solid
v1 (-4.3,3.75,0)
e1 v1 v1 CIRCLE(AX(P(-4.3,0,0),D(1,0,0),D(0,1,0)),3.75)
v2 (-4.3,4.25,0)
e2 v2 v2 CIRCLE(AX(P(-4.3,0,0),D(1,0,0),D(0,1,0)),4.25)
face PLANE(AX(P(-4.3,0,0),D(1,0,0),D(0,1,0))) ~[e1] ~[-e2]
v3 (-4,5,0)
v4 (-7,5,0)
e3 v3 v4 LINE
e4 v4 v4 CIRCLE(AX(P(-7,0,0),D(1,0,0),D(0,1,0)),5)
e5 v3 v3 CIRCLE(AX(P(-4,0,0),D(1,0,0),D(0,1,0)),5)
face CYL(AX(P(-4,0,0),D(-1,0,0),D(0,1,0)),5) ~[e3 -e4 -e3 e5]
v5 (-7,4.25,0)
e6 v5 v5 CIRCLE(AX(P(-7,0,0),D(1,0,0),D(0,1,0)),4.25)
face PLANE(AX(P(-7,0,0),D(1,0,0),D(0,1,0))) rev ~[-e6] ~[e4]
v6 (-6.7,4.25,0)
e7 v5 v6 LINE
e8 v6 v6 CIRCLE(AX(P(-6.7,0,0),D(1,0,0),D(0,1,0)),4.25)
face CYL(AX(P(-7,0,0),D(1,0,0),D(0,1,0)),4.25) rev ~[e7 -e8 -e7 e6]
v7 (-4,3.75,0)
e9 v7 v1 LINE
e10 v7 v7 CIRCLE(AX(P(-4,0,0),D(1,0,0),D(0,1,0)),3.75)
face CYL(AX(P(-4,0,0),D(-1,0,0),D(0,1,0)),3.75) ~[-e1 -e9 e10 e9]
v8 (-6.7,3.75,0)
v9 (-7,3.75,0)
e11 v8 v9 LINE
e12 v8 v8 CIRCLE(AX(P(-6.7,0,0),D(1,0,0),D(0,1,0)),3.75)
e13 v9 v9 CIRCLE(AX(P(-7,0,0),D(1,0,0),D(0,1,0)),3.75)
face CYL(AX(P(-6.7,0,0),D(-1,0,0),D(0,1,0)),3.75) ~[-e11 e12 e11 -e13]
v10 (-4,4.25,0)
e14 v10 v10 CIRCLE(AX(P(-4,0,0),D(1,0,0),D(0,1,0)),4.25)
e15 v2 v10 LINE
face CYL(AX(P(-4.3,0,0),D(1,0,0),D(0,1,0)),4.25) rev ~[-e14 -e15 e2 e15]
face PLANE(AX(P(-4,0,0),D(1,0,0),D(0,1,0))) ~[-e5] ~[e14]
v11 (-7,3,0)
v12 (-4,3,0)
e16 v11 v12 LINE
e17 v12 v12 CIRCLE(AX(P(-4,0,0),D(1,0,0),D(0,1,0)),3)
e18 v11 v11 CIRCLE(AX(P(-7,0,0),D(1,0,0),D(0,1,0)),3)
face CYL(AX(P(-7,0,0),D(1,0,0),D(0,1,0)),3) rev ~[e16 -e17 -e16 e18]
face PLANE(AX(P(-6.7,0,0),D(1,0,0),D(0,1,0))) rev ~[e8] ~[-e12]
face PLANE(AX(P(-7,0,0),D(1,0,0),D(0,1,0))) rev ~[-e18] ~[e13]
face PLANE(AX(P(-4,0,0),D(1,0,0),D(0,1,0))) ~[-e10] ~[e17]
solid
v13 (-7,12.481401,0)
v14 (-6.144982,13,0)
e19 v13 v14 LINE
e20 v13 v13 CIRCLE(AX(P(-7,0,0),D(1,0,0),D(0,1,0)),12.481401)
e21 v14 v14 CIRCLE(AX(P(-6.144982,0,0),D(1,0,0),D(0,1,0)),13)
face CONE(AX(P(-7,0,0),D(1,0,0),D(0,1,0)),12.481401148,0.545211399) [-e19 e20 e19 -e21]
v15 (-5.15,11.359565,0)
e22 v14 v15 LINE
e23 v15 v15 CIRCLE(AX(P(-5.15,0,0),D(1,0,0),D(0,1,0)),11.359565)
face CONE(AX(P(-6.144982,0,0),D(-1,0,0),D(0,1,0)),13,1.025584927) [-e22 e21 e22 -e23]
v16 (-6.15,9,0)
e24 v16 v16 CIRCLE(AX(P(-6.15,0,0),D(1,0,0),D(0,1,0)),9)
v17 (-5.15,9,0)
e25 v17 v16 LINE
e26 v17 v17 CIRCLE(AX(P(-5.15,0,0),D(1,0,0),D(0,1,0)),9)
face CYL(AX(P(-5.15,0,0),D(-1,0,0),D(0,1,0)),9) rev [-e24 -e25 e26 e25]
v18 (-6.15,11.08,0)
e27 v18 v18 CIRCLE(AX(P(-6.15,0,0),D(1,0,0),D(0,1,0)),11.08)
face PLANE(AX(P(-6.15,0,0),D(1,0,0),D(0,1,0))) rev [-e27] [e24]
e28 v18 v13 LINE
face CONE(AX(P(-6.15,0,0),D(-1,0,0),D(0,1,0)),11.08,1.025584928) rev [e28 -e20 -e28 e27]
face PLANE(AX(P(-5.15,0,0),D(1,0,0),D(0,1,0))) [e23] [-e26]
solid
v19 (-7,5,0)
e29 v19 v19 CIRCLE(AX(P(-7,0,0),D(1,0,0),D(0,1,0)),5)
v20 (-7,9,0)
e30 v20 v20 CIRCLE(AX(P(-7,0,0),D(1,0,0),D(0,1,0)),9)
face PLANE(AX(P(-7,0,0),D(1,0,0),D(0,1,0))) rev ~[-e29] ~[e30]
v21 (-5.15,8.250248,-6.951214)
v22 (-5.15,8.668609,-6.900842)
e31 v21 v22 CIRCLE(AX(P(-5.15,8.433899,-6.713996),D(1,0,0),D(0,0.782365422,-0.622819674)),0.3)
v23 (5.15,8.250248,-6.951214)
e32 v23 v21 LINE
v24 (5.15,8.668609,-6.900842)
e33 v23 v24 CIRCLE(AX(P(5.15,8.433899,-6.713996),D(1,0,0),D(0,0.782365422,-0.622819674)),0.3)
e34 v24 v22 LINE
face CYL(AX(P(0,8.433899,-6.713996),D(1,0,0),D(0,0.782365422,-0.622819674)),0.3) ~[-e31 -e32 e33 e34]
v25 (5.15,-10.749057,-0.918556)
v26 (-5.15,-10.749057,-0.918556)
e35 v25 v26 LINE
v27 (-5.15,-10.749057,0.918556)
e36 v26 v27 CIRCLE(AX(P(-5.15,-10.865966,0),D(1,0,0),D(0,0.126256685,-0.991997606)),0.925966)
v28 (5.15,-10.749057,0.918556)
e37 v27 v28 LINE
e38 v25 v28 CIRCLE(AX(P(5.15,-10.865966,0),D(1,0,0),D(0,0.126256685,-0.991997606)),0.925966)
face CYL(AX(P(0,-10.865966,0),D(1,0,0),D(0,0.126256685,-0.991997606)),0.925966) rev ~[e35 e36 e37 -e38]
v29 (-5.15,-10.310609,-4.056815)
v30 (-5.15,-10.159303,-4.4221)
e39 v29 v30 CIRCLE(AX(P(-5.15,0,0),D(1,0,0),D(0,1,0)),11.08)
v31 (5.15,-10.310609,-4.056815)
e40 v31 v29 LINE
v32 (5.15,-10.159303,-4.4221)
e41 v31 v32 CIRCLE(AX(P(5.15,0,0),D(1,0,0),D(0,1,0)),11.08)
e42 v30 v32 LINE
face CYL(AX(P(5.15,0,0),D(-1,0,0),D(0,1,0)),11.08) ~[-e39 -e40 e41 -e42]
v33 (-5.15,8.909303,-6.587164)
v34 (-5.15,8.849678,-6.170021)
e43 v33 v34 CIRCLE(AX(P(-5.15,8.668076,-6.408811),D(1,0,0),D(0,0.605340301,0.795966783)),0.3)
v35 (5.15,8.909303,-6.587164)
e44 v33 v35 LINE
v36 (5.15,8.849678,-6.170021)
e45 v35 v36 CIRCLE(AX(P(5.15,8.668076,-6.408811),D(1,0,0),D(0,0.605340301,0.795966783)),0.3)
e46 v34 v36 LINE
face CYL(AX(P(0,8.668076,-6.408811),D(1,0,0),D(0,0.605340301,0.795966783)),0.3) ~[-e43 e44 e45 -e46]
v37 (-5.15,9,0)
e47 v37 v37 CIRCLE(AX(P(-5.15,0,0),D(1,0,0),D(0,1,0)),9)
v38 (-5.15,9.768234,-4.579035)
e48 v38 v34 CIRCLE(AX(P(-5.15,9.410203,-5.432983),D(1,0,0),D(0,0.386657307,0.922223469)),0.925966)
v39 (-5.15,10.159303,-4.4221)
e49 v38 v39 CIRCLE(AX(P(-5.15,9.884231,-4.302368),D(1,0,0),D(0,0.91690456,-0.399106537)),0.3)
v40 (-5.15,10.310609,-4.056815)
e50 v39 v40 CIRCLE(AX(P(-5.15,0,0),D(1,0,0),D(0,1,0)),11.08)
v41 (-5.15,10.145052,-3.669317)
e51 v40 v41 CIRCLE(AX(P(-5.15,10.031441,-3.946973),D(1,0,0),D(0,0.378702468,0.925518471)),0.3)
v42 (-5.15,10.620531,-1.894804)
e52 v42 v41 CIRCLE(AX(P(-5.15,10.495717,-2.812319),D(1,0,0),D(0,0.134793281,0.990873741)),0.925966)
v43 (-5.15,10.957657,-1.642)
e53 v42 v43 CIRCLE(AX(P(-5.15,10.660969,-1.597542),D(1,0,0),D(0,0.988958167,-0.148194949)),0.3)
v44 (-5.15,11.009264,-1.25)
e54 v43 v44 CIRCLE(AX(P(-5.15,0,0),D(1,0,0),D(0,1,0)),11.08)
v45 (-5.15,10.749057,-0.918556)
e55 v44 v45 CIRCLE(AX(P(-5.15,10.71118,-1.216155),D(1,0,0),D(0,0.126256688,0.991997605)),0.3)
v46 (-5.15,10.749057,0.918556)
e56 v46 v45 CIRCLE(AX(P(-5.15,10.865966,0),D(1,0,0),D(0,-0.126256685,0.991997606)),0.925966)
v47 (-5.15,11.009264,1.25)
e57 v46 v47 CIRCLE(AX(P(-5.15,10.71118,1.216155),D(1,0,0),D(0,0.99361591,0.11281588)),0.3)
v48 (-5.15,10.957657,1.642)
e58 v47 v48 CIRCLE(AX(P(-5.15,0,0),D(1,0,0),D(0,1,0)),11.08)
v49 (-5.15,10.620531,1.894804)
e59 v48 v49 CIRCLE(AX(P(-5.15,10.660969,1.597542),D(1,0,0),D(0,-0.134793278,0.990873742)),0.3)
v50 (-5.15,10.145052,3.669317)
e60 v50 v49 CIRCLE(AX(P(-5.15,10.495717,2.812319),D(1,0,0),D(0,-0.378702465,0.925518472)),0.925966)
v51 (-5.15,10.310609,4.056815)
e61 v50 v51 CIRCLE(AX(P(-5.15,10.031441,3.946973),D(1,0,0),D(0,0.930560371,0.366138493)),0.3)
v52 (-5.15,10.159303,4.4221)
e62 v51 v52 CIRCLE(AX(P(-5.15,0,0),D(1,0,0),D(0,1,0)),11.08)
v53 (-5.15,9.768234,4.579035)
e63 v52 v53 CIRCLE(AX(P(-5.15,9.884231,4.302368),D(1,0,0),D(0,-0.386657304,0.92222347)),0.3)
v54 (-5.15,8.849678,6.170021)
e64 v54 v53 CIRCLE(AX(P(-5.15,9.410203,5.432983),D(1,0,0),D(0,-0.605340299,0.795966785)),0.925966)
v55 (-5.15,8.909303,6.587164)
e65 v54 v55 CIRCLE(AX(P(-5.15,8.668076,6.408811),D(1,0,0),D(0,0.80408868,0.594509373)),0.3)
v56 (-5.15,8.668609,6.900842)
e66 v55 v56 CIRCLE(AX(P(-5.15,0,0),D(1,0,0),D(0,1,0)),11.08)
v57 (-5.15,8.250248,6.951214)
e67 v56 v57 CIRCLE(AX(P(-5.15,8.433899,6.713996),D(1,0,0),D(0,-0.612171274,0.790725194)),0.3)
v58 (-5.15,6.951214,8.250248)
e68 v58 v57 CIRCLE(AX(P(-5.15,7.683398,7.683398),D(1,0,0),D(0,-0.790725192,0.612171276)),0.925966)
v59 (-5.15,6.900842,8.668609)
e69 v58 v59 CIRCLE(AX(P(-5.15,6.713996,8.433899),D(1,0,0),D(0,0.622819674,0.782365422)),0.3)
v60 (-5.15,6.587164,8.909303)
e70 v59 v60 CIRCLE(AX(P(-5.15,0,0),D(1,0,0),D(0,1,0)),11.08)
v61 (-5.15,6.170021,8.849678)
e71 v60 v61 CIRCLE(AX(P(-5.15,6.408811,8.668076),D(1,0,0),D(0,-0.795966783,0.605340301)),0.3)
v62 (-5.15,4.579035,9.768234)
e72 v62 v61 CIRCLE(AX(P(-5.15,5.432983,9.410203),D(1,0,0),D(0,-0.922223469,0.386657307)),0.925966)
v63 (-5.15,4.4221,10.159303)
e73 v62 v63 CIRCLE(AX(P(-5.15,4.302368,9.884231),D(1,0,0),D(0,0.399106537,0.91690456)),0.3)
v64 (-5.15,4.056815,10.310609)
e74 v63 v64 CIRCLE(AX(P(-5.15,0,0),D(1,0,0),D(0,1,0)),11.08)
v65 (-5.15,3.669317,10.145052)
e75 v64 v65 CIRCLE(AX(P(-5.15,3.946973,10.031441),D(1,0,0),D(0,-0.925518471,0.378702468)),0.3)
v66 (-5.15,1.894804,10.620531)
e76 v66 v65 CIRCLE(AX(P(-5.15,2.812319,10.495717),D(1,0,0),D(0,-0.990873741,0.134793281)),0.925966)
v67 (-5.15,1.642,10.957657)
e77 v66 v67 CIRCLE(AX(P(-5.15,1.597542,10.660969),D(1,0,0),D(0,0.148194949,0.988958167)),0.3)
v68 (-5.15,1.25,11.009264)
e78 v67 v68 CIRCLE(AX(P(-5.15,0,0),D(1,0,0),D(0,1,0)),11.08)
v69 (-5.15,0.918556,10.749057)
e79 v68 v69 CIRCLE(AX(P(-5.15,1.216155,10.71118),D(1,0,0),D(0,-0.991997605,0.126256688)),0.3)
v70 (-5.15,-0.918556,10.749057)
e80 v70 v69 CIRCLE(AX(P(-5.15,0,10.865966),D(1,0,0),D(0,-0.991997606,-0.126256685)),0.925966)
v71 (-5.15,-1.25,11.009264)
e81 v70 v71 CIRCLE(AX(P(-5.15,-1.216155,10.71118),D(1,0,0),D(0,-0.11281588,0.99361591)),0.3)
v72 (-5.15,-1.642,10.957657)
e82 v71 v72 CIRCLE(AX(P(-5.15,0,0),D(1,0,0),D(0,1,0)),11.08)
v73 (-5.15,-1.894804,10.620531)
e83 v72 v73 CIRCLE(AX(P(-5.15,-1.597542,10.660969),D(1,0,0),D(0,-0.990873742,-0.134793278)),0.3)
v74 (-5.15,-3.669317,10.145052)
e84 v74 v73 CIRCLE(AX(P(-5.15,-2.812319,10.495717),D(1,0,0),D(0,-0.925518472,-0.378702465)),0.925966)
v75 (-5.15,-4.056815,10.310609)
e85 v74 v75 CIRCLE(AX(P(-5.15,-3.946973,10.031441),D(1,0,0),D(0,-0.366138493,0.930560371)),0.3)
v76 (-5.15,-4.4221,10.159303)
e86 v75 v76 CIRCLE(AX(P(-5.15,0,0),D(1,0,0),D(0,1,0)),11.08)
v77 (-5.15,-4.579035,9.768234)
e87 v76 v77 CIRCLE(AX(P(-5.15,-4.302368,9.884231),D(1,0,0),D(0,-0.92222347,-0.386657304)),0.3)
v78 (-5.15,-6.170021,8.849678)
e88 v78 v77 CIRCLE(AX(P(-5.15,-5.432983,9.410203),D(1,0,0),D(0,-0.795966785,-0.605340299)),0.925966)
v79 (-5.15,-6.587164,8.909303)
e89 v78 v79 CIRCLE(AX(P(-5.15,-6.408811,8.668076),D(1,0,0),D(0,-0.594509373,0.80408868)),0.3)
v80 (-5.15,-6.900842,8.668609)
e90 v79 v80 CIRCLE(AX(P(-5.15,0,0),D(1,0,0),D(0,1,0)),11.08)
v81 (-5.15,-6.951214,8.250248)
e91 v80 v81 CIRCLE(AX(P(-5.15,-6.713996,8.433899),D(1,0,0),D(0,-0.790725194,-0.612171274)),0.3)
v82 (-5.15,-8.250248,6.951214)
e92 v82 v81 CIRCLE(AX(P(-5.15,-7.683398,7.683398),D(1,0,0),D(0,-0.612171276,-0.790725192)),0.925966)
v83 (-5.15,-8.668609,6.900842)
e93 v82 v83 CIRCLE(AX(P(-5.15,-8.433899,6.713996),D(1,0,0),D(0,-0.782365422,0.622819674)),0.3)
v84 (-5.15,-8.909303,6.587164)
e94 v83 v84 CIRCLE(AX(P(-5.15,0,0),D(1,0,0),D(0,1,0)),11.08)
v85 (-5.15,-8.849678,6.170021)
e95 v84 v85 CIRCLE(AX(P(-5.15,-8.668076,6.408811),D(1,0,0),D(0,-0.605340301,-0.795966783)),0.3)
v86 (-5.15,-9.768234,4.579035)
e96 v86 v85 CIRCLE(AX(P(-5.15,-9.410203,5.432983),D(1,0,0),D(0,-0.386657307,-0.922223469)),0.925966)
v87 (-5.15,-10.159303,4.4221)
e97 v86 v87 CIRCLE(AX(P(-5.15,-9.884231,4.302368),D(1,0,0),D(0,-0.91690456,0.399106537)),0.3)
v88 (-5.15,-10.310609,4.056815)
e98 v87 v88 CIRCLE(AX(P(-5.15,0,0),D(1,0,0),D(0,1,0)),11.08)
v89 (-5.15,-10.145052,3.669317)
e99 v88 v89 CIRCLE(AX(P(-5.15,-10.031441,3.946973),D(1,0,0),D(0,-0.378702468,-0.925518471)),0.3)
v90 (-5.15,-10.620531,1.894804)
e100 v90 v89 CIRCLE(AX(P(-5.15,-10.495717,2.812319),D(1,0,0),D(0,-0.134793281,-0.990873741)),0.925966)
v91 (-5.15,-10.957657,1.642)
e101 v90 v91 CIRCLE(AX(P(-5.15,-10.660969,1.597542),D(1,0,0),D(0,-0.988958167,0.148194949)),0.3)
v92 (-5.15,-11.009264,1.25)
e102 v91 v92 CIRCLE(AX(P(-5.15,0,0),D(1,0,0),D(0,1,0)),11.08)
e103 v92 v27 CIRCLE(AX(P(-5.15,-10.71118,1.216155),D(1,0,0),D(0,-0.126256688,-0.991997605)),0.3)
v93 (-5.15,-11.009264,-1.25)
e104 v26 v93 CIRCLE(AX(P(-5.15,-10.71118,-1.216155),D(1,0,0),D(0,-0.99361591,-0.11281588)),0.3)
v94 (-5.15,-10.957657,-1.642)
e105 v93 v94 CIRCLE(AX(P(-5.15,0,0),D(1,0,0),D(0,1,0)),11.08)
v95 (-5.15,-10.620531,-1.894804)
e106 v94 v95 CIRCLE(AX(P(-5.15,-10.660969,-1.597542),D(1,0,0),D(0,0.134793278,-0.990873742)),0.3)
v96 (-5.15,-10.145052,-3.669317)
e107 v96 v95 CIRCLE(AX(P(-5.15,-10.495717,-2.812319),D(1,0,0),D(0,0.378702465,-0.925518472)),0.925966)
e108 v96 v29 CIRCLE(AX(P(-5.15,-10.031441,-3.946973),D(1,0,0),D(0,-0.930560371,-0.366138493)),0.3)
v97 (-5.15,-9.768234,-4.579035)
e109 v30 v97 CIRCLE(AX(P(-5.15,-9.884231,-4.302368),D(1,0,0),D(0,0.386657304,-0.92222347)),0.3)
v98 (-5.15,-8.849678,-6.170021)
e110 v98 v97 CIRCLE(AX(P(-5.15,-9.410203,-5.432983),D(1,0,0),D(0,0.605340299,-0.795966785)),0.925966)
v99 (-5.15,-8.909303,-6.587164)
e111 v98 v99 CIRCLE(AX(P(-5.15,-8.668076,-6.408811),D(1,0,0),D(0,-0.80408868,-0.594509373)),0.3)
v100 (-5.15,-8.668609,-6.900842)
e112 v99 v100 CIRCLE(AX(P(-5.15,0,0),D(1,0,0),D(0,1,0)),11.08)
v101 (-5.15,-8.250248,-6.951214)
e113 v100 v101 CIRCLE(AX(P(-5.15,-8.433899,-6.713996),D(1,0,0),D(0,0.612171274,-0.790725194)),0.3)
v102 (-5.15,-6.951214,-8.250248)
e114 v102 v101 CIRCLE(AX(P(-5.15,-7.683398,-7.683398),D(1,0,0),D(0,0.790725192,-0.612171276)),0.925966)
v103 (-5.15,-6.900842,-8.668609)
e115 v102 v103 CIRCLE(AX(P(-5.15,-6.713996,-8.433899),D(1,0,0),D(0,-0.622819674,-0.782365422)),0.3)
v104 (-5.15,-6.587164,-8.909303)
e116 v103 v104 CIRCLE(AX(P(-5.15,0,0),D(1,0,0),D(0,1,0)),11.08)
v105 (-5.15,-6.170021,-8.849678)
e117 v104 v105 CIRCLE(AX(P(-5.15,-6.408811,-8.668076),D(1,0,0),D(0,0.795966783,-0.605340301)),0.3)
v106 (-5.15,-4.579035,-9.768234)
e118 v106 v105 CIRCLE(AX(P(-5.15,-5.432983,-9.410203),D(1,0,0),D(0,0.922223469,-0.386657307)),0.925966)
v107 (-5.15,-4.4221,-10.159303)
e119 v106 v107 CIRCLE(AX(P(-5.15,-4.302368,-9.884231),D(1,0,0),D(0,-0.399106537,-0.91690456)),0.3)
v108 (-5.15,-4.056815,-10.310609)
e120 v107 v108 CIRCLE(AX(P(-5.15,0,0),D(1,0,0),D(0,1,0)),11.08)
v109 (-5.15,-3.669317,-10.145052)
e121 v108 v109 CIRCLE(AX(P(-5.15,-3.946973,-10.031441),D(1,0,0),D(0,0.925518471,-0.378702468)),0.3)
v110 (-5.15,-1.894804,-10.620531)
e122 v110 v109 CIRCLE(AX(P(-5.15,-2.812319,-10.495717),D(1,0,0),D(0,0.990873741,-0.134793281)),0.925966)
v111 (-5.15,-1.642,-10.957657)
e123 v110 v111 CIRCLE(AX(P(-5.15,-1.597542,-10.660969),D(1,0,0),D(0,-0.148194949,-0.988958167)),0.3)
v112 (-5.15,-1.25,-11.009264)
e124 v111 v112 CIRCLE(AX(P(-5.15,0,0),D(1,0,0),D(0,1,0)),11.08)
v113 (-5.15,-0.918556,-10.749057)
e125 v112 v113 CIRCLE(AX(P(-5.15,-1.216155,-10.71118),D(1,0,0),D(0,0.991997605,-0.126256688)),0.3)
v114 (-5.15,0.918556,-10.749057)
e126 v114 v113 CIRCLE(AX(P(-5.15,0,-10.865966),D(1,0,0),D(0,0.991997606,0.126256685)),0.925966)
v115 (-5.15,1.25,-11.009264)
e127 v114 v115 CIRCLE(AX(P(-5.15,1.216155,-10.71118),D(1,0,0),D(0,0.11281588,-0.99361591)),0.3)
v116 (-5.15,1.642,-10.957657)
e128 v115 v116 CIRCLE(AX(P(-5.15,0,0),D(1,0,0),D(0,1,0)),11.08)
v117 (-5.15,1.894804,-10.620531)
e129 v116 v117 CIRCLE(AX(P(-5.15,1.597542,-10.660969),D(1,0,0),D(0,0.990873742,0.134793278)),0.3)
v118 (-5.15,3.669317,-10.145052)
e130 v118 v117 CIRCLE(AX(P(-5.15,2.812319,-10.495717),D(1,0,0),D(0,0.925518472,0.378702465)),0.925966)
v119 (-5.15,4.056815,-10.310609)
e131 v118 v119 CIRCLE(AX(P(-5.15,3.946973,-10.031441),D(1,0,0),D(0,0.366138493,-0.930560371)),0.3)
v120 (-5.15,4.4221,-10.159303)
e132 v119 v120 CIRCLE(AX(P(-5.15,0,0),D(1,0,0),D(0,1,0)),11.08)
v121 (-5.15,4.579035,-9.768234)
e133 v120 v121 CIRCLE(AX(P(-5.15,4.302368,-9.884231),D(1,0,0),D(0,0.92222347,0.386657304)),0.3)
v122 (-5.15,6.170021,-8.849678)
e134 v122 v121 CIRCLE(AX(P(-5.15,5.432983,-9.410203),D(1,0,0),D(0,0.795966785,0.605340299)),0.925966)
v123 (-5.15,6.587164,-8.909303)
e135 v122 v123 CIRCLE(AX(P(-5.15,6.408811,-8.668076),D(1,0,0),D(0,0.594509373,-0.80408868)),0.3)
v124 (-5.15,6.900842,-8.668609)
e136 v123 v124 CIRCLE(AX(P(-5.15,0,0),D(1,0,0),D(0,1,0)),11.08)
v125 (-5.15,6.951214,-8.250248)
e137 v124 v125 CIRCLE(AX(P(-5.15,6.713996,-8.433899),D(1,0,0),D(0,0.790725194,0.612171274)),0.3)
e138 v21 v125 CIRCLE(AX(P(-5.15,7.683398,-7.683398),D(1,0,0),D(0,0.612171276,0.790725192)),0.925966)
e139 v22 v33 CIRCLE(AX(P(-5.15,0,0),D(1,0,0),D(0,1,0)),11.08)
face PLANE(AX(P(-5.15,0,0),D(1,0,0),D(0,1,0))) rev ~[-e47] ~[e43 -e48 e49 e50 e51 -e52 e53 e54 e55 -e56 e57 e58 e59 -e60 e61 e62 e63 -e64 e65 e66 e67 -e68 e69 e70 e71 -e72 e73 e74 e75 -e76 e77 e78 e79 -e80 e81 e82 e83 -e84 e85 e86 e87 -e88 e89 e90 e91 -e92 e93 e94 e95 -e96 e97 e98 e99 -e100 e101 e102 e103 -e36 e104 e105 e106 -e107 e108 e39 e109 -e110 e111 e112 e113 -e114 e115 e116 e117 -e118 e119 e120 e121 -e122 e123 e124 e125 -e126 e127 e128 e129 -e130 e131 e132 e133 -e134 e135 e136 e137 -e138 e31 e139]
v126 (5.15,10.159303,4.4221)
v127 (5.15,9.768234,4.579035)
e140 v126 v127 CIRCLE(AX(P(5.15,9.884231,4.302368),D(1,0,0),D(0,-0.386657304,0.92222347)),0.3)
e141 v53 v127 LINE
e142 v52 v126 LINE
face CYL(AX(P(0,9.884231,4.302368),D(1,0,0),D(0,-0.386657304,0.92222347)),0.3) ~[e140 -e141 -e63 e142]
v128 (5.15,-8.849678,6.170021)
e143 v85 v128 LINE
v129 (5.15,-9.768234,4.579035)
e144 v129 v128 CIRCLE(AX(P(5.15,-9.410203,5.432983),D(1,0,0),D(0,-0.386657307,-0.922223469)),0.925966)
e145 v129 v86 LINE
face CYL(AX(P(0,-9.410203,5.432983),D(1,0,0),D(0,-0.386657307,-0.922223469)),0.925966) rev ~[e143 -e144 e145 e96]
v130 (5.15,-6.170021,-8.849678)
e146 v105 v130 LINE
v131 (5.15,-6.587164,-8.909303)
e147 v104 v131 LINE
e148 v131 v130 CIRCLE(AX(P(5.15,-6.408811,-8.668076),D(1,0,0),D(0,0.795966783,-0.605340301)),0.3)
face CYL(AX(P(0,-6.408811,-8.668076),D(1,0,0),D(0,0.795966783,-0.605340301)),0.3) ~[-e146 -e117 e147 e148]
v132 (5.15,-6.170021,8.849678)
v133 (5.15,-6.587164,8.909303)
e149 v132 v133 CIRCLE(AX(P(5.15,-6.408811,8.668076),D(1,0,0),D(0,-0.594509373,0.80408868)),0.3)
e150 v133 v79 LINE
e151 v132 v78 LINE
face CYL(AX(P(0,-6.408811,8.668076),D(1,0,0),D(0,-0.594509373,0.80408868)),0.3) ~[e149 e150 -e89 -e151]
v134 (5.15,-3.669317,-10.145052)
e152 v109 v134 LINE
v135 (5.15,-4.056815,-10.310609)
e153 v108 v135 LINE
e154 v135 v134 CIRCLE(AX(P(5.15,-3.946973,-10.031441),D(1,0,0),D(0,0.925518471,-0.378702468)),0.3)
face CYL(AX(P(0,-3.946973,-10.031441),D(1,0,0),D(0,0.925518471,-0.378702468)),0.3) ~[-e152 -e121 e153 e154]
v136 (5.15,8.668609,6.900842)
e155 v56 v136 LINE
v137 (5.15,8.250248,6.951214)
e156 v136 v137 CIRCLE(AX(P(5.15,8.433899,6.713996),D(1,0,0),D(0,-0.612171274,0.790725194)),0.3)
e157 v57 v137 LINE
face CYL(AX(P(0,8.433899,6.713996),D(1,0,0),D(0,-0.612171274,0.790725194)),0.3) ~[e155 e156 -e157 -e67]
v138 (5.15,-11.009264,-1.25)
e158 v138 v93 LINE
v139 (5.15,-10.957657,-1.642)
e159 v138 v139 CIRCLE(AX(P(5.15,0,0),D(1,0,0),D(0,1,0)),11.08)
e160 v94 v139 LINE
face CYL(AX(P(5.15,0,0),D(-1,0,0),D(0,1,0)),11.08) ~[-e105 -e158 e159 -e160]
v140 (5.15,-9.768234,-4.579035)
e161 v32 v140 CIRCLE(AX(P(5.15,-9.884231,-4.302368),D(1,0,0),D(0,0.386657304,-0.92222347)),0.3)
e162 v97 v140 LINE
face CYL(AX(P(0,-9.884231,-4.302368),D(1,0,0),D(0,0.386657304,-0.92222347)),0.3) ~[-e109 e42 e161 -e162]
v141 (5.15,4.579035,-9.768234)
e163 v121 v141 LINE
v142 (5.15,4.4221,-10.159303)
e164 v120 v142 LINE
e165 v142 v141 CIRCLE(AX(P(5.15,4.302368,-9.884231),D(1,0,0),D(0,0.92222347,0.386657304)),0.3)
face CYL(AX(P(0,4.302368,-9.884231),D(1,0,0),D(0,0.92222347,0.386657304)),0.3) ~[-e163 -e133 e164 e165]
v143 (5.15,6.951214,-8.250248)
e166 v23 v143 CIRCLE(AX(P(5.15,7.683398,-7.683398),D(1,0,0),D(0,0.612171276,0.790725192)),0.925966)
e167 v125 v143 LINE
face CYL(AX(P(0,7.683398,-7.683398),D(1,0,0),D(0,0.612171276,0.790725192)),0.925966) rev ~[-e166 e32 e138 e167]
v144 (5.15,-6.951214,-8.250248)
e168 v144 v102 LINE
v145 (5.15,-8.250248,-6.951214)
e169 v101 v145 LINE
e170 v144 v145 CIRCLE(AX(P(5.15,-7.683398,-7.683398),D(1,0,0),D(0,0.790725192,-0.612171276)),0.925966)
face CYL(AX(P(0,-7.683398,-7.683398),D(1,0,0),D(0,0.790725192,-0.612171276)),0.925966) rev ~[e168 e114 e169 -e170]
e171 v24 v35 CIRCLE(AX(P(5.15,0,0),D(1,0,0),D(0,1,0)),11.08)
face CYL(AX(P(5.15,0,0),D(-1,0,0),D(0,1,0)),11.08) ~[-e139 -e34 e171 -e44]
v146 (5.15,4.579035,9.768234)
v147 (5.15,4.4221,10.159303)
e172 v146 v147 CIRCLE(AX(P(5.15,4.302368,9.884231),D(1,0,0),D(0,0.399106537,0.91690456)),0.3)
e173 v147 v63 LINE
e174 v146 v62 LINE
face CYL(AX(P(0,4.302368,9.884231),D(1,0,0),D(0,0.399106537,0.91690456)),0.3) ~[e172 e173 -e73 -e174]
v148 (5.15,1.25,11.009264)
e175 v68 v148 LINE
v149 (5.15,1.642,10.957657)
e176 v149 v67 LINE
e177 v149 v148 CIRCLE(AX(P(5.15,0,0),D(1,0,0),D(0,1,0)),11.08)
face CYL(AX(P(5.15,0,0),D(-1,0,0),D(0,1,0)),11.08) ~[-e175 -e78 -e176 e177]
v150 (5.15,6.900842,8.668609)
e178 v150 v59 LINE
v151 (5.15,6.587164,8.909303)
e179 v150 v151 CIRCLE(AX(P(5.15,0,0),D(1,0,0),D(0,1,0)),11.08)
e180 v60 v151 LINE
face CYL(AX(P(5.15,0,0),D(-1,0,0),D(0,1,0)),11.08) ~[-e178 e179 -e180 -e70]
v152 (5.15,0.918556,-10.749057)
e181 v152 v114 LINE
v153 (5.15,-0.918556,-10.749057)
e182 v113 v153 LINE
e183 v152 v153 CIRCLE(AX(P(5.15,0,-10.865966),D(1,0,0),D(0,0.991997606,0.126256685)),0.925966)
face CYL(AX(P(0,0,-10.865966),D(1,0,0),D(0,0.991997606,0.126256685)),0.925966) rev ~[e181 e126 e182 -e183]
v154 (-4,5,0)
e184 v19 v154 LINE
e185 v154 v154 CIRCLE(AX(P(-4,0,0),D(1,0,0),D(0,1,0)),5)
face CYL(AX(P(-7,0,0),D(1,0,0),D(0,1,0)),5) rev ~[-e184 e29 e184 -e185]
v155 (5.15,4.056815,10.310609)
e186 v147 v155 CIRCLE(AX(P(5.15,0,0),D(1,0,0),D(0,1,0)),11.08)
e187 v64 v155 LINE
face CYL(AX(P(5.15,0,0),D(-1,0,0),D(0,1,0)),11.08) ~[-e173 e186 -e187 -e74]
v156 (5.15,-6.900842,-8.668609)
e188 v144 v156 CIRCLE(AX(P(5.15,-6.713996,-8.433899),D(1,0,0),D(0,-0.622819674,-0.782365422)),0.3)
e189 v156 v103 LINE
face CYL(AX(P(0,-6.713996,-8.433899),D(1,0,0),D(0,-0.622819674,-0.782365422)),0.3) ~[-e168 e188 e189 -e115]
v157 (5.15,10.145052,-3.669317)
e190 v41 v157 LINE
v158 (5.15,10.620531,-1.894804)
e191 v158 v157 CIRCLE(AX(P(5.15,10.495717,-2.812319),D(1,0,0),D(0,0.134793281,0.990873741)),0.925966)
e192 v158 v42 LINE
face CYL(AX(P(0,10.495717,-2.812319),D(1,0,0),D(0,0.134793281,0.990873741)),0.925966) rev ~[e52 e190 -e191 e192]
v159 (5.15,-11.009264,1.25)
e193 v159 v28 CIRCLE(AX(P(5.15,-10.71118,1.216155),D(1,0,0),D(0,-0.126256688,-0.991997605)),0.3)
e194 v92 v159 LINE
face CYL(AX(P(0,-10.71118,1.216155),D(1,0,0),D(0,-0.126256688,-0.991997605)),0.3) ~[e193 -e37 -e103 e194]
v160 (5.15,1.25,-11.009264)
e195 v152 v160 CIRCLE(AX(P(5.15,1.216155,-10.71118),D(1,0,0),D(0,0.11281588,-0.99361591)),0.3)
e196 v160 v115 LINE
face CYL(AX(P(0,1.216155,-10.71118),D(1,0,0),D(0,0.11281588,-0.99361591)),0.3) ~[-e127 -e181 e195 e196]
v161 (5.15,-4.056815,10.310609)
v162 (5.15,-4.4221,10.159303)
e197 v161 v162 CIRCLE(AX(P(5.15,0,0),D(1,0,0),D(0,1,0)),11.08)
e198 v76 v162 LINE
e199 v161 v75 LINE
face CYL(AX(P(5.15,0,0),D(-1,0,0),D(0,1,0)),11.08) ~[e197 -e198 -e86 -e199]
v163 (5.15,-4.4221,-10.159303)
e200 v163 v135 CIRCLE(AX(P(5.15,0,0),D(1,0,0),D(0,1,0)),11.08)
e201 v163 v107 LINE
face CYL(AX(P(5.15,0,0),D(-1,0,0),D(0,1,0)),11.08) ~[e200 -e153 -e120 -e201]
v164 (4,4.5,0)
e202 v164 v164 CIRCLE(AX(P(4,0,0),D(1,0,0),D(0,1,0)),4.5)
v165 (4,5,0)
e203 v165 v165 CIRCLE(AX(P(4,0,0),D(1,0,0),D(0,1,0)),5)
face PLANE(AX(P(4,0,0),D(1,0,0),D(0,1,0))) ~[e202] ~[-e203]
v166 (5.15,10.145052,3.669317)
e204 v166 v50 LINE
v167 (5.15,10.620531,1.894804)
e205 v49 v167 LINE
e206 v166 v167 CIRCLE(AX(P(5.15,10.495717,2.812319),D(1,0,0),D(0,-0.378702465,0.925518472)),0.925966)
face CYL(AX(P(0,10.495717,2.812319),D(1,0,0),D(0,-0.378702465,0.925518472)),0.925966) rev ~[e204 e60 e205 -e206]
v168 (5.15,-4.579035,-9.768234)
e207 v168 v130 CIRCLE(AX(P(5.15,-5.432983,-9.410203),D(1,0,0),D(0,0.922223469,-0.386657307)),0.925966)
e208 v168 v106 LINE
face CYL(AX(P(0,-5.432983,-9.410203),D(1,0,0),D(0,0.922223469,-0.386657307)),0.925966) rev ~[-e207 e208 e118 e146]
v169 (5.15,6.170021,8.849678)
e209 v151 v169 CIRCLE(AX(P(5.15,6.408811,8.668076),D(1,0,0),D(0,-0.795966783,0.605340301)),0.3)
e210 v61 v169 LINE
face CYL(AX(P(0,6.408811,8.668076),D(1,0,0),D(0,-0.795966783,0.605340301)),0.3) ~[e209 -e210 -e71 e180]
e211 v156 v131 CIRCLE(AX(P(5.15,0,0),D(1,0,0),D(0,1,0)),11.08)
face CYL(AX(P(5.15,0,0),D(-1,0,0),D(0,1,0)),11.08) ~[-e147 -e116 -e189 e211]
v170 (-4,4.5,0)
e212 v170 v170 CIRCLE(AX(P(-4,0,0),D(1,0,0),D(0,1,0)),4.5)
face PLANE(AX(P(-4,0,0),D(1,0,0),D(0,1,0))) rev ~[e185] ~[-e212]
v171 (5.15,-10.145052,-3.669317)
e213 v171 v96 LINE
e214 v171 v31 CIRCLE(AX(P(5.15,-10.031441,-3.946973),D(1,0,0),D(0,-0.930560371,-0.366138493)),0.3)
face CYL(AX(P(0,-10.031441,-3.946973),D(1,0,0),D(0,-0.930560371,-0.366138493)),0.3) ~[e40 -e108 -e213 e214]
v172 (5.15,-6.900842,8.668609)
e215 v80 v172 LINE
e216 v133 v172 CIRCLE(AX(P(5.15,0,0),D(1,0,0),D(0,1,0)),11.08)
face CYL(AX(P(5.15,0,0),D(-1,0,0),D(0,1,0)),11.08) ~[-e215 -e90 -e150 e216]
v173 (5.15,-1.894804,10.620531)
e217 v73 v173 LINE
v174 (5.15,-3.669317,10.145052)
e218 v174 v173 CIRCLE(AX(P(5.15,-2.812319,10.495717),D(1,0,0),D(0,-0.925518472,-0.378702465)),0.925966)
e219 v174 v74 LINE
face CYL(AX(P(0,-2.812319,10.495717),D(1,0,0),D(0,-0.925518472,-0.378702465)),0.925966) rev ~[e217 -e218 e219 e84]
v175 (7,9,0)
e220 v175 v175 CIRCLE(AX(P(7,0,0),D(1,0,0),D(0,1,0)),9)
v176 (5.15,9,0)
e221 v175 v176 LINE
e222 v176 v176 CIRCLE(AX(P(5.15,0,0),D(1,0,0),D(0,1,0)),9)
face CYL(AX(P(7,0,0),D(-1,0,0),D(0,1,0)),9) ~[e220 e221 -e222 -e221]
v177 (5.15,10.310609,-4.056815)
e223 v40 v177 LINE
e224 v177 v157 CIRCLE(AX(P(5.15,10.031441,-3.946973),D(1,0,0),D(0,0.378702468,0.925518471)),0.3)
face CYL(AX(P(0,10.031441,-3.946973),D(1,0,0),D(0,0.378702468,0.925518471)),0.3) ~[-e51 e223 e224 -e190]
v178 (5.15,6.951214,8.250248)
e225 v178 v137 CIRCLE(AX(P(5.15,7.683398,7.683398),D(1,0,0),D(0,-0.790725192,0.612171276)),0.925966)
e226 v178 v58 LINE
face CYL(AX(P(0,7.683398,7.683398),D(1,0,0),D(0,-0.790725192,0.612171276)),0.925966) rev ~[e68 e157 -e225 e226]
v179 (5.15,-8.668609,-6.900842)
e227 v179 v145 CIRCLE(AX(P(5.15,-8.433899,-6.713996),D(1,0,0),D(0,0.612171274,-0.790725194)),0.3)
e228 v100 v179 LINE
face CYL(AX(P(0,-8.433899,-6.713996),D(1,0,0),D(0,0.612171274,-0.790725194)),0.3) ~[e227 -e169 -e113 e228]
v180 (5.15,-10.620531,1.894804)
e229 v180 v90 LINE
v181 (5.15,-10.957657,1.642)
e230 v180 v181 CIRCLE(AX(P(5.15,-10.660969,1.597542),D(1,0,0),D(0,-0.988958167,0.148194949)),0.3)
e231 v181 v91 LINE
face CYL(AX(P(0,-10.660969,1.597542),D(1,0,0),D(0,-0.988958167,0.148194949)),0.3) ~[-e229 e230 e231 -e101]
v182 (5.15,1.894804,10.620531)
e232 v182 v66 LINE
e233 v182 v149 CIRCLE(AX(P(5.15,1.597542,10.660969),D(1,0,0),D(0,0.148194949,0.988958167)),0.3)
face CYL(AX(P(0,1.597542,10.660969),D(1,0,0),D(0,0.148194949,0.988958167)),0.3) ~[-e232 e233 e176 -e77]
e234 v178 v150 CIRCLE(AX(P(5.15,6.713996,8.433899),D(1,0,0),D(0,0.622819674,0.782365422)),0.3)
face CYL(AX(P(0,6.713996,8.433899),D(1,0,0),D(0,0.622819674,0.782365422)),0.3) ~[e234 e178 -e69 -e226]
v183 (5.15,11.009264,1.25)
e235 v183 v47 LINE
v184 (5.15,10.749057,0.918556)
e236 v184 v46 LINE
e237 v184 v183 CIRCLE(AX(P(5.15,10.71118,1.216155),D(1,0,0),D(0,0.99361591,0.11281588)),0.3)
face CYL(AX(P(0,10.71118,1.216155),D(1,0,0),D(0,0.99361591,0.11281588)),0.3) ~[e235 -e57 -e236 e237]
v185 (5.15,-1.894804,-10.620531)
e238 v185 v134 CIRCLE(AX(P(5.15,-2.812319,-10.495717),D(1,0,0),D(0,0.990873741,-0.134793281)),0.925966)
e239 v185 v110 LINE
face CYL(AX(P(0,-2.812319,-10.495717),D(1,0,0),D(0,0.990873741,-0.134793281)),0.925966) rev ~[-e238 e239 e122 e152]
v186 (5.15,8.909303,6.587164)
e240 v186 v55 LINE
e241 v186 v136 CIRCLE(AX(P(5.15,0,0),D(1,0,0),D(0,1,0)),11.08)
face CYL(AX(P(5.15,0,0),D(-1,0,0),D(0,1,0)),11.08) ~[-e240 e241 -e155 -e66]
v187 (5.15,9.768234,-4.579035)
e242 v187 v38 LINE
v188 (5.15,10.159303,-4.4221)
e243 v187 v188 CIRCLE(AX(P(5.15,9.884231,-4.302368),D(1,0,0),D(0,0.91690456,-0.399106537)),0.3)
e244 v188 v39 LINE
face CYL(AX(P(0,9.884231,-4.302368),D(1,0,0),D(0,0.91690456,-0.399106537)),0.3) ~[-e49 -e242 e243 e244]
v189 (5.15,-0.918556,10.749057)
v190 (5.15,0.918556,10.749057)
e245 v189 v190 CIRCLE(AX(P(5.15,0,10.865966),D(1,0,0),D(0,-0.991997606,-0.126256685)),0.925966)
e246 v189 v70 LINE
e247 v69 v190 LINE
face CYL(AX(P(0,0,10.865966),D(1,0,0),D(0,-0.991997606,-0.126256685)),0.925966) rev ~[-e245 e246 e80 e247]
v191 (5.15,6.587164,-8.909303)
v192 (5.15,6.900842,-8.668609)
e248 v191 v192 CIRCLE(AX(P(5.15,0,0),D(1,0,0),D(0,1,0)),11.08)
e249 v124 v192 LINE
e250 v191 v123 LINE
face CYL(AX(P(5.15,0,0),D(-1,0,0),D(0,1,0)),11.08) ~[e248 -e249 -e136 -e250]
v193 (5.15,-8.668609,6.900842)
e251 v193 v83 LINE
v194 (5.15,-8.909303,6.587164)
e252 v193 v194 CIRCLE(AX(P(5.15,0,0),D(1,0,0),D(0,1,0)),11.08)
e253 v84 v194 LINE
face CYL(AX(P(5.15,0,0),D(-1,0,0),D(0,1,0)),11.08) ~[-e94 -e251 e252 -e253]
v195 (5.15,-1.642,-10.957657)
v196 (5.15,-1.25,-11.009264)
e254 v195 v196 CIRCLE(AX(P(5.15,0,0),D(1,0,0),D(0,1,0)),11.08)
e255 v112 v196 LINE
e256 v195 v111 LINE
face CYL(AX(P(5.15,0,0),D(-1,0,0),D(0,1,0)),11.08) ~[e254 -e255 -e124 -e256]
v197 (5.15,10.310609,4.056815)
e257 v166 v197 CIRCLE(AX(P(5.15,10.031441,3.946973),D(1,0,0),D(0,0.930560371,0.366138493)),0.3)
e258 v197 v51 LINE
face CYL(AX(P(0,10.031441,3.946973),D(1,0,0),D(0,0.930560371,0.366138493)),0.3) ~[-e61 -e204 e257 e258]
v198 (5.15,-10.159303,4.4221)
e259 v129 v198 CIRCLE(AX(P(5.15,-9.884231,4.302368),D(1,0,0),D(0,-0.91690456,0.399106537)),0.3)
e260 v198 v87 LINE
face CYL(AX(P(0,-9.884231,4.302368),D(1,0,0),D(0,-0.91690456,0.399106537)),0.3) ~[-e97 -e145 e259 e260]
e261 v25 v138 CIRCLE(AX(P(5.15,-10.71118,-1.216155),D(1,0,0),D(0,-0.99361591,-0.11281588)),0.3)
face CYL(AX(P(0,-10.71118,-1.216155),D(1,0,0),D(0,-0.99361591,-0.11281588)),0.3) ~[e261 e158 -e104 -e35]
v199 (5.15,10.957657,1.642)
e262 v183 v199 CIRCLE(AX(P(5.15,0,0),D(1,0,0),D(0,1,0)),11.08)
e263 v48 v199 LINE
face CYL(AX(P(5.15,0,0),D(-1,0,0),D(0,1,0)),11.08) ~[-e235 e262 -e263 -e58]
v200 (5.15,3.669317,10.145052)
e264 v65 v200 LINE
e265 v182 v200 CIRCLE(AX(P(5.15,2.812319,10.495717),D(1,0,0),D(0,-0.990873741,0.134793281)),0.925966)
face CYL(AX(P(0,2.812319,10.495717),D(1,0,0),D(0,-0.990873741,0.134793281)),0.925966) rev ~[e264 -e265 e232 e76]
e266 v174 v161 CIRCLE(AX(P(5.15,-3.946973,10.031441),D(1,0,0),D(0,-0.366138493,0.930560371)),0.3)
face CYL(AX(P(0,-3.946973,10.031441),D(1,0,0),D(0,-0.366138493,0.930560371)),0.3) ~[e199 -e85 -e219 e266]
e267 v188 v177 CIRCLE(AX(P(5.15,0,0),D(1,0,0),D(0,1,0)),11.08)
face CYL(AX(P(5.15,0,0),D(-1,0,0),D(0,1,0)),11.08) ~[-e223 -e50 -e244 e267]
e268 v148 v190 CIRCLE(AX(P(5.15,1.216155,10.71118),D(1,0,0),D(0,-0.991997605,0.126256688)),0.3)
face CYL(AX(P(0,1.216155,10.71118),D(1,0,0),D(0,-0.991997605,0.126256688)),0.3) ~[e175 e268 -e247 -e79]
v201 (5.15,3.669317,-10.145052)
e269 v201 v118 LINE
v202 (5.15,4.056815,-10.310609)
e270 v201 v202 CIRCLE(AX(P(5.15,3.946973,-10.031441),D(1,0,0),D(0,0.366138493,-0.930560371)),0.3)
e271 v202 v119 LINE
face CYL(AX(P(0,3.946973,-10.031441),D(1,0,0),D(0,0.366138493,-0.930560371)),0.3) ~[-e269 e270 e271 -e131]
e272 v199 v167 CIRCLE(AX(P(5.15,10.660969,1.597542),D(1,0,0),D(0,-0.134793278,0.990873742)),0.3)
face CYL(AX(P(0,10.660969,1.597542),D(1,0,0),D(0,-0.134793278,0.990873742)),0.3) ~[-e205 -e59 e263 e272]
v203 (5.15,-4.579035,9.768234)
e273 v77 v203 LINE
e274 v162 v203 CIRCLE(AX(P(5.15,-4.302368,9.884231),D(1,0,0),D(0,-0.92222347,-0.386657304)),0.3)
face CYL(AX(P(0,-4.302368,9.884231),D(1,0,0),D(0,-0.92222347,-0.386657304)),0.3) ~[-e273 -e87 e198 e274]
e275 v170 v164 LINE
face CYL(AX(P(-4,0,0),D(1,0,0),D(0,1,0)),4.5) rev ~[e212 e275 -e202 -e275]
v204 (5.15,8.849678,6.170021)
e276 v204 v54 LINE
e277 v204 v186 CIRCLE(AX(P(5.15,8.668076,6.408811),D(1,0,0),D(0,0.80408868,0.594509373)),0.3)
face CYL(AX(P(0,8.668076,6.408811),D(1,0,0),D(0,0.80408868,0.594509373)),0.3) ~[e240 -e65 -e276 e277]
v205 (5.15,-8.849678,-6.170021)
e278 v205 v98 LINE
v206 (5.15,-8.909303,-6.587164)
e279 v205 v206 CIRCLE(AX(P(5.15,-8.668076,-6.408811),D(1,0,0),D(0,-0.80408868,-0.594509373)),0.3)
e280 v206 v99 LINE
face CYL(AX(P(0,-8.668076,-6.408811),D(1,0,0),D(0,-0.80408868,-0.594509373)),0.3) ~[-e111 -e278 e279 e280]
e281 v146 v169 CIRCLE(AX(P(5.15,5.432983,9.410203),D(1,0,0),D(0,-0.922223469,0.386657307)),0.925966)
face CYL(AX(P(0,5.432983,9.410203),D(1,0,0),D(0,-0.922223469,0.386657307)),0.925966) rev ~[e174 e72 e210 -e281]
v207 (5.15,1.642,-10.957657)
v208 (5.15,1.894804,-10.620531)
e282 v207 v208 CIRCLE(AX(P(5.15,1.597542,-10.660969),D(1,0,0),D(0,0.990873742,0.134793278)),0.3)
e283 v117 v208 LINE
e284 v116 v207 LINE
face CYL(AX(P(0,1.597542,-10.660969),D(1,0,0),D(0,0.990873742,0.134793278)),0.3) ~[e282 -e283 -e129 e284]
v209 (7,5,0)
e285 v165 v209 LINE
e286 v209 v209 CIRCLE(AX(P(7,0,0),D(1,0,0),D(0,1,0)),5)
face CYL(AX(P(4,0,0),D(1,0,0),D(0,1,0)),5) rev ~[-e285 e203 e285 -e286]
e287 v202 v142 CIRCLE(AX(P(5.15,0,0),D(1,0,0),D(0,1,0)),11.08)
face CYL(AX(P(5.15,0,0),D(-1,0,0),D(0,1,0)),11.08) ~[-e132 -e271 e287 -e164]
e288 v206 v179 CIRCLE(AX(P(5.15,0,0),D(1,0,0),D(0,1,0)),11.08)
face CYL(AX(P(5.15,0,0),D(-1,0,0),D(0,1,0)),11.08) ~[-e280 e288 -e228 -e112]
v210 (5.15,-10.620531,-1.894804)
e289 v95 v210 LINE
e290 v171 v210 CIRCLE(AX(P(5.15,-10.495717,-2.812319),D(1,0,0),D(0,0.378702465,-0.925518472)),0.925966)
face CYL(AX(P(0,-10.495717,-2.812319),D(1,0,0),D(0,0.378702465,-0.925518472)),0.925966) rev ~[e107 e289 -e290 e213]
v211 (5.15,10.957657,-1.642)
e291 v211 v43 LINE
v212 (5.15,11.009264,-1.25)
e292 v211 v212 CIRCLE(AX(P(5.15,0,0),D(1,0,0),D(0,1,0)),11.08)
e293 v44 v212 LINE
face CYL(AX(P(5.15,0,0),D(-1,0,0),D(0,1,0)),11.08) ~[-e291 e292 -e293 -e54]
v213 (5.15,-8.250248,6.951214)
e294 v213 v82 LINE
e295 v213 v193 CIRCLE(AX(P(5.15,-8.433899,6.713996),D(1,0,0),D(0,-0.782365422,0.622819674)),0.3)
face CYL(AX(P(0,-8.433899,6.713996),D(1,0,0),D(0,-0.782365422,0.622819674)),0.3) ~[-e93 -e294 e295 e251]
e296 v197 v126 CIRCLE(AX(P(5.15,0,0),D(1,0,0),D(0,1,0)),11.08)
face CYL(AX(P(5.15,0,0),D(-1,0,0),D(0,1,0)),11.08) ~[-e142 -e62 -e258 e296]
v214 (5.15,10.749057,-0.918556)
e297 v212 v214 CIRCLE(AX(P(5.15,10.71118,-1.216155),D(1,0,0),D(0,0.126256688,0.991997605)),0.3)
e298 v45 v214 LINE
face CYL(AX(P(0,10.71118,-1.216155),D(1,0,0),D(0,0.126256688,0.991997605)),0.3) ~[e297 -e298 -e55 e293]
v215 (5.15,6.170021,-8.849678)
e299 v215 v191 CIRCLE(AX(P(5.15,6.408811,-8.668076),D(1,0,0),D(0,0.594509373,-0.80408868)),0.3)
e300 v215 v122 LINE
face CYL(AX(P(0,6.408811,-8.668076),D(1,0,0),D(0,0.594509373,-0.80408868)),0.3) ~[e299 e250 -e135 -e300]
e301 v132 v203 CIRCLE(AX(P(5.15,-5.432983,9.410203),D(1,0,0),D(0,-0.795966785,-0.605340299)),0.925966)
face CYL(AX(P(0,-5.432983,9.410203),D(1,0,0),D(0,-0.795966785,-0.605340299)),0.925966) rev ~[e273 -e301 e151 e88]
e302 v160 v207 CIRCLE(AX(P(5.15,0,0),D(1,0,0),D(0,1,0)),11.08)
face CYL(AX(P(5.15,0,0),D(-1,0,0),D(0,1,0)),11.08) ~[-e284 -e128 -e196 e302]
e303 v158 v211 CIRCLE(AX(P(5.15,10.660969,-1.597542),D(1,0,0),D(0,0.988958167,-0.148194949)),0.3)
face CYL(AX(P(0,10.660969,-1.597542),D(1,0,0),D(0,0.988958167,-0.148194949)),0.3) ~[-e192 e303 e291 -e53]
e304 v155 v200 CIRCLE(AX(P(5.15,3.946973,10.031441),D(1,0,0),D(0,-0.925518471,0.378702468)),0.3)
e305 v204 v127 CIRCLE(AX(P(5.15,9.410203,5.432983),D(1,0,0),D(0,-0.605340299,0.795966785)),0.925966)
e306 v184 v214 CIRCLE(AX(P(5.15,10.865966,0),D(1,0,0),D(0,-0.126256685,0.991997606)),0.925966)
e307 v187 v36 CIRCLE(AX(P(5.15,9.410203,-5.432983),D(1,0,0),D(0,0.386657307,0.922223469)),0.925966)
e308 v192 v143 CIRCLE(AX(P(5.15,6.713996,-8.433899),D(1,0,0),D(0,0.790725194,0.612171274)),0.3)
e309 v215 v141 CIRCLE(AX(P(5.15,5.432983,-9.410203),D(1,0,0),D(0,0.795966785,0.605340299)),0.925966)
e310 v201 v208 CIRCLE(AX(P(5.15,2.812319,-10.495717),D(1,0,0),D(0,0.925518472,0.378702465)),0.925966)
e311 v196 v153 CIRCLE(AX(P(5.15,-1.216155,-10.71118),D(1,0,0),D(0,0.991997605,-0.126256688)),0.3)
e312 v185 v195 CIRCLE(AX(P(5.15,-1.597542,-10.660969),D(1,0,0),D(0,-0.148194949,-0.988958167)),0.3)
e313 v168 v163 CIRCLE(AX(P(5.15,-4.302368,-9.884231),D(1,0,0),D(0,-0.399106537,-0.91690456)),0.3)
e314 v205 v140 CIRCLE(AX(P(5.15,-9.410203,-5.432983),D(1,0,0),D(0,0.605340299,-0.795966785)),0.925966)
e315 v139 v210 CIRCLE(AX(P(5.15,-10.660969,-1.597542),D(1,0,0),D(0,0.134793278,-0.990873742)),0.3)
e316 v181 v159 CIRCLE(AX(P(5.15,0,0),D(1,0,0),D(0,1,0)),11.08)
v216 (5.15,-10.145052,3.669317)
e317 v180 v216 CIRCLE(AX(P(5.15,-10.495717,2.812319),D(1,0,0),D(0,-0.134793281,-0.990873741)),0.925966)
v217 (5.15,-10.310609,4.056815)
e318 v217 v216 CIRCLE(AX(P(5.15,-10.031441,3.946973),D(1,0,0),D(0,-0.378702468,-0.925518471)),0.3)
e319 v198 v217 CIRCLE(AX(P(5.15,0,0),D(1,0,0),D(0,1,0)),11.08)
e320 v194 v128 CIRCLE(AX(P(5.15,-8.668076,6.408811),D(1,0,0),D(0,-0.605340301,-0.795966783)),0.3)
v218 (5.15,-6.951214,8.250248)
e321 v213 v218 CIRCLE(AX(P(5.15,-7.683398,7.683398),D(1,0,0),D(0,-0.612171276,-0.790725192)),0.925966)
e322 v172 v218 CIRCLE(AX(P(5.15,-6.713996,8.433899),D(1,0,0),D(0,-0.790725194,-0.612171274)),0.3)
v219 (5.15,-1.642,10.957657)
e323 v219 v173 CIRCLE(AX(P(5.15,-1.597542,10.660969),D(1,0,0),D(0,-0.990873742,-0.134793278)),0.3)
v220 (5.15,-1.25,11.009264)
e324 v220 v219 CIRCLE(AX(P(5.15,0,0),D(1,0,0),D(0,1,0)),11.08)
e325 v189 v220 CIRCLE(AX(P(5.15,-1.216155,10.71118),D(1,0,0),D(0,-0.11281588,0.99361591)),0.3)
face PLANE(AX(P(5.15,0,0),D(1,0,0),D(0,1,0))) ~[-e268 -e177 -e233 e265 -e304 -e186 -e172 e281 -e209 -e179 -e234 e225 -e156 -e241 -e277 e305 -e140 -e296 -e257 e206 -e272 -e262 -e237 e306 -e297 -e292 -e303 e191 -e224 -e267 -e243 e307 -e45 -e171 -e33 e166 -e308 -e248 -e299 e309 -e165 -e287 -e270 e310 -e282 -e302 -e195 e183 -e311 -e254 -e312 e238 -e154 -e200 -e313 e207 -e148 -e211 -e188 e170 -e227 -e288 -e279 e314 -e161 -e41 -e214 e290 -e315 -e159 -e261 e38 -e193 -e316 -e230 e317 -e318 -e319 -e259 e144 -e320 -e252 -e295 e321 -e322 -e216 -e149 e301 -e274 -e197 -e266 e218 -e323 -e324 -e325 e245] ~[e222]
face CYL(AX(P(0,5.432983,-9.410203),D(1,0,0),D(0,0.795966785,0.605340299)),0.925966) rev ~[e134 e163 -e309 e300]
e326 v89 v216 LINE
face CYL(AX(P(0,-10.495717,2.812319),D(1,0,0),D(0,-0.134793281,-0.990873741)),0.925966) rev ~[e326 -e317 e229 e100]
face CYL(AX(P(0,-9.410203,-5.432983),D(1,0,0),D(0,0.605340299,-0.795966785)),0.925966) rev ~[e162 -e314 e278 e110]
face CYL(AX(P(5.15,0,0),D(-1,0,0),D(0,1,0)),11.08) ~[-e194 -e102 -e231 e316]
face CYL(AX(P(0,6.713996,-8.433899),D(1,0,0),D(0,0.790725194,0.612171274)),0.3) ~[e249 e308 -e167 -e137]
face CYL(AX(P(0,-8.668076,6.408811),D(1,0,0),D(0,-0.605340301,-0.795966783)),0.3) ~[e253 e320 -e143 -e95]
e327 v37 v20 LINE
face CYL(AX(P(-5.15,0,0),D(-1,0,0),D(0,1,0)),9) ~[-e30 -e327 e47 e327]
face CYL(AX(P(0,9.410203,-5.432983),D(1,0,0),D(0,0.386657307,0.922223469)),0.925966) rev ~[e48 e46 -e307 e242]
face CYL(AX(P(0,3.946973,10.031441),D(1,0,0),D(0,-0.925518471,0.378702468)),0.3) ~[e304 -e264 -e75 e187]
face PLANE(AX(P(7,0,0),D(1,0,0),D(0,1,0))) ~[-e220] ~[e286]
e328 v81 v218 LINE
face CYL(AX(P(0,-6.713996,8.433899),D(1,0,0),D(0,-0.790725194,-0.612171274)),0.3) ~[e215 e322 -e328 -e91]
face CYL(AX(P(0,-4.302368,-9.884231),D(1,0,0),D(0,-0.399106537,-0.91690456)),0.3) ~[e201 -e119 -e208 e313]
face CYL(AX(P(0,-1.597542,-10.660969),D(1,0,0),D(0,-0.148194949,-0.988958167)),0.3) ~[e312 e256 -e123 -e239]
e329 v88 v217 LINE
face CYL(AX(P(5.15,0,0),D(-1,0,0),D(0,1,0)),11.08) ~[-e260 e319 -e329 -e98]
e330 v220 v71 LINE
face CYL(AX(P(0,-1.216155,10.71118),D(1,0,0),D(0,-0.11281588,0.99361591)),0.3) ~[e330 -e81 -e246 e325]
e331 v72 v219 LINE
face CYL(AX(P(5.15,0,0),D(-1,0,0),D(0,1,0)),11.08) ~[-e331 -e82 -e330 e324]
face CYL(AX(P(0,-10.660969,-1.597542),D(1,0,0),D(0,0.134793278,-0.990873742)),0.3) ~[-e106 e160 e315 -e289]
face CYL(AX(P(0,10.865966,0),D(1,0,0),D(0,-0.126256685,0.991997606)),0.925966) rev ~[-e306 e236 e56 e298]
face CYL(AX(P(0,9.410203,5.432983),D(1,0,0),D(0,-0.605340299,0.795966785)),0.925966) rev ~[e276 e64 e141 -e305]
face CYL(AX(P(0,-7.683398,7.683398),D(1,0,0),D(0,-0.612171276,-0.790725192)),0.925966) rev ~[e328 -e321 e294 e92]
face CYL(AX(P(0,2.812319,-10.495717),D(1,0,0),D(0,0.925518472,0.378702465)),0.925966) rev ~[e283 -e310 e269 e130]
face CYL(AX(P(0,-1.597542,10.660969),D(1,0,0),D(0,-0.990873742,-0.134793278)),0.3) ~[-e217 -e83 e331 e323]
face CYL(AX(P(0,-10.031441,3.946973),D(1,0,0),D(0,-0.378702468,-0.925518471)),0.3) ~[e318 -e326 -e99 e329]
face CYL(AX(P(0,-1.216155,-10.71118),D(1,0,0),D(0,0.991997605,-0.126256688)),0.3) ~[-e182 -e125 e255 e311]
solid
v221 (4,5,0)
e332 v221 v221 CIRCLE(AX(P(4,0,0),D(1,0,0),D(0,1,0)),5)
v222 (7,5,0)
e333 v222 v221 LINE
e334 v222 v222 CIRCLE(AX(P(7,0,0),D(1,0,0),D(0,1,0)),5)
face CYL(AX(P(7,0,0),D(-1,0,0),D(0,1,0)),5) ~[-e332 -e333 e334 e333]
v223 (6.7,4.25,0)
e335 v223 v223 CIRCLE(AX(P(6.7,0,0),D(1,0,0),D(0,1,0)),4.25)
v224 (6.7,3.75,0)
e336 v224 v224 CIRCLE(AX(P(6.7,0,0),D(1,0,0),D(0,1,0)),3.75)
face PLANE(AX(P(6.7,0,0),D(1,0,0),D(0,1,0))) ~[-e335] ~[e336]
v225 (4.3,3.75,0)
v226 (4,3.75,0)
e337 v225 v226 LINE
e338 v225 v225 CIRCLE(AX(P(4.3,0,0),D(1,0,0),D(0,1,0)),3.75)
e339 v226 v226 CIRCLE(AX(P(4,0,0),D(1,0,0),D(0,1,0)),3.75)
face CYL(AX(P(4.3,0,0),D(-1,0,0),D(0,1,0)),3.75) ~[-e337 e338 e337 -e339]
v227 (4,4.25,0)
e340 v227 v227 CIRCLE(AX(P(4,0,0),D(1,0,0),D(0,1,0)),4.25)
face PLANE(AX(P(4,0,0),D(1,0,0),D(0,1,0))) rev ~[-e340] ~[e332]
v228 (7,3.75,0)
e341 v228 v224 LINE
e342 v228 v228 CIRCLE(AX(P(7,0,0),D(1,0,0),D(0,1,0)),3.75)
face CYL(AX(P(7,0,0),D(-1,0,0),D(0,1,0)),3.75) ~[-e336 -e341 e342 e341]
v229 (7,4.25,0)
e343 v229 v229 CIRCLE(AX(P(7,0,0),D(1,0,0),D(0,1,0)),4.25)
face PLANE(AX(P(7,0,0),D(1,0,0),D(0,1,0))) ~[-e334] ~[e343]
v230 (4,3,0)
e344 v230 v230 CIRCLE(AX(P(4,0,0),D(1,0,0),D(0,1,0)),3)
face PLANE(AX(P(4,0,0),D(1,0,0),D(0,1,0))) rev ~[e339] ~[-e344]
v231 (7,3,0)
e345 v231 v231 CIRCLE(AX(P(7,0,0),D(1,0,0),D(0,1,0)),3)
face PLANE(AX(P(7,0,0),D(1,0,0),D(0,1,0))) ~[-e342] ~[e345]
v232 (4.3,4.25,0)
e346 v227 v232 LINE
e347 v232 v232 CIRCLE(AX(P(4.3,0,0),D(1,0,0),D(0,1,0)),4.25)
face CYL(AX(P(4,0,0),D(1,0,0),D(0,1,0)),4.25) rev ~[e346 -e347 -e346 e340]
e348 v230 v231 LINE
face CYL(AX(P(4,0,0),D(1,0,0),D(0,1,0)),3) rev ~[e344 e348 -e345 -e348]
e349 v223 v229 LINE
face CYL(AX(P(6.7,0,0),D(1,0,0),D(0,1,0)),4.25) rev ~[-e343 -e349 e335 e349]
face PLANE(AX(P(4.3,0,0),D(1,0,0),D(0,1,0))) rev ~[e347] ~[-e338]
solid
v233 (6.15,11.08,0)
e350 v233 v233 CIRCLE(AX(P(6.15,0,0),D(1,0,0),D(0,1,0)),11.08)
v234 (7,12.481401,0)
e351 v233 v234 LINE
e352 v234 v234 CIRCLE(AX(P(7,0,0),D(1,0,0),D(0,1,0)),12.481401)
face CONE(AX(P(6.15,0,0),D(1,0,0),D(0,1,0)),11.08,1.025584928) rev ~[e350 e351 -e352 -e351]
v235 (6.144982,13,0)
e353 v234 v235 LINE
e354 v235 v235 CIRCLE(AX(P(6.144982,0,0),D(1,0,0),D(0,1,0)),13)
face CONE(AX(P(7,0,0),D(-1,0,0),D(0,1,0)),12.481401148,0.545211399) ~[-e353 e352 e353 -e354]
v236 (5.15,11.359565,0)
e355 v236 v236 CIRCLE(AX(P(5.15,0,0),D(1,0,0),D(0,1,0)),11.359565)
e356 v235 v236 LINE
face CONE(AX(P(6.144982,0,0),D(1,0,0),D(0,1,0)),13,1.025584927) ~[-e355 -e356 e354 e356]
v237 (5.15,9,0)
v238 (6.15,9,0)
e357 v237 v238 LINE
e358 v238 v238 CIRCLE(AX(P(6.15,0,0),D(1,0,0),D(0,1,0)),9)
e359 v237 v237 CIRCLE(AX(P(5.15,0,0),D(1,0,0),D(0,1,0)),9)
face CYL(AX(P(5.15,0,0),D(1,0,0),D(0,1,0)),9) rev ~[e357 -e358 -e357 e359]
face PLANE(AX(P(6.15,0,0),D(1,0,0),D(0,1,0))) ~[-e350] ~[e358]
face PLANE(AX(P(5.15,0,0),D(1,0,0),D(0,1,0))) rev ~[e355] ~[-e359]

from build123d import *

# Parameters (mm, degrees)
CUT_EXTRUDE1_DEPTH = 8
CIRPATTERN1_COUNT  = 24


with BuildPart() as part:
    # Sketch1 → Revolve1 (revolve)
    with BuildSketch(Plane.XY):
        Polygon((-4, 4.5), (4, 4.5), (4, 5), (7, 5), (7, 9), (5.15, 9), (5.15, 11.08), (-5.15, 11.08), (-5.15, 9), (-7, 9), (-7, 5), (-4, 5), align=None)
    revolve(axis=Axis((-19.462379578, 0, 0), (1, 0, 0)))

    # Sketch4 → Cut-Extrude1 (cut, symmetric)
    with BuildSketch(Plane(origin=(0, 0, 0), x_dir=(0, 0, -1), z_dir=(1, 0, 0))):
        with BuildLine():
            ThreePointArc((-0.918555953, 10.749056513), (0, 9.94), (0.918555953, 10.749056513))
            ThreePointArc((0.918555953, 10.749056513), (1.030902349, 10.947148506), (1.25, 11.009264281))
            ThreePointArc((1.25, 11.009264281), (0, 11.08), (-1.25, 11.009264281))
            ThreePointArc((-1.25, 11.009264281), (-1.030902349, 10.947148506), (-0.918555953, 10.749056513))
        make_face()
    cut_extrude1 = extrude(amount=CUT_EXTRUDE1_DEPTH, both=True, mode=Mode.SUBTRACT)

    # CirPattern1: Cut-Extrude1 ×24 about axis
    cirpattern1_axis = Axis((0, 0, 0), (1, 0, 0))
    for i in range(1, CIRPATTERN1_COUNT):
        add(cut_extrude1.rotate(cirpattern1_axis, i * 360 / CIRPATTERN1_COUNT), mode=Mode.SUBTRACT)


with BuildPart() as body_2:
    # Sketch2 → Revolve2 (revolve)
    with BuildSketch(Plane.XY):
        Polygon((5.15, 9), (6.15, 9), (6.15, 11.08), (7, 12.481401148), (6.144982322, 13), (5.15, 11.35956545), align=None)
        Polygon((-5.15, 11.35956545), (-5.15, 9), (-6.15, 9), (-6.15, 11.08), (-7, 12.481401148), (-6.144982322, 13), align=None)
    revolve(axis=Axis((-11.316441619, 0, 0), (1, 0, 0)))


with BuildPart() as body_3:
    # Sketch5 → Revolve3 (revolve)
    with BuildSketch(Plane.XY):
        Polygon((4, 3.75), (4, 3), (7, 3), (7, 3.75), (6.7, 3.75), (6.7, 4.25), (7, 4.25), (7, 5), (4, 5), (4, 4.25), (4.3, 4.25), (4.3, 3.75), align=None)
        Polygon((-7, 4.25), (-6.7, 4.25), (-6.7, 3.75), (-7, 3.75), (-7, 3), (-4, 3), (-4, 3.75), (-4.3, 3.75), (-4.3, 4.25), (-4, 4.25), (-4, 5), (-7, 5), align=None)
    revolve(axis=Axis((0, 0, 0), (1, 0, 0)))


solid = Compound([part.part, body_2.part, body_3.part])
